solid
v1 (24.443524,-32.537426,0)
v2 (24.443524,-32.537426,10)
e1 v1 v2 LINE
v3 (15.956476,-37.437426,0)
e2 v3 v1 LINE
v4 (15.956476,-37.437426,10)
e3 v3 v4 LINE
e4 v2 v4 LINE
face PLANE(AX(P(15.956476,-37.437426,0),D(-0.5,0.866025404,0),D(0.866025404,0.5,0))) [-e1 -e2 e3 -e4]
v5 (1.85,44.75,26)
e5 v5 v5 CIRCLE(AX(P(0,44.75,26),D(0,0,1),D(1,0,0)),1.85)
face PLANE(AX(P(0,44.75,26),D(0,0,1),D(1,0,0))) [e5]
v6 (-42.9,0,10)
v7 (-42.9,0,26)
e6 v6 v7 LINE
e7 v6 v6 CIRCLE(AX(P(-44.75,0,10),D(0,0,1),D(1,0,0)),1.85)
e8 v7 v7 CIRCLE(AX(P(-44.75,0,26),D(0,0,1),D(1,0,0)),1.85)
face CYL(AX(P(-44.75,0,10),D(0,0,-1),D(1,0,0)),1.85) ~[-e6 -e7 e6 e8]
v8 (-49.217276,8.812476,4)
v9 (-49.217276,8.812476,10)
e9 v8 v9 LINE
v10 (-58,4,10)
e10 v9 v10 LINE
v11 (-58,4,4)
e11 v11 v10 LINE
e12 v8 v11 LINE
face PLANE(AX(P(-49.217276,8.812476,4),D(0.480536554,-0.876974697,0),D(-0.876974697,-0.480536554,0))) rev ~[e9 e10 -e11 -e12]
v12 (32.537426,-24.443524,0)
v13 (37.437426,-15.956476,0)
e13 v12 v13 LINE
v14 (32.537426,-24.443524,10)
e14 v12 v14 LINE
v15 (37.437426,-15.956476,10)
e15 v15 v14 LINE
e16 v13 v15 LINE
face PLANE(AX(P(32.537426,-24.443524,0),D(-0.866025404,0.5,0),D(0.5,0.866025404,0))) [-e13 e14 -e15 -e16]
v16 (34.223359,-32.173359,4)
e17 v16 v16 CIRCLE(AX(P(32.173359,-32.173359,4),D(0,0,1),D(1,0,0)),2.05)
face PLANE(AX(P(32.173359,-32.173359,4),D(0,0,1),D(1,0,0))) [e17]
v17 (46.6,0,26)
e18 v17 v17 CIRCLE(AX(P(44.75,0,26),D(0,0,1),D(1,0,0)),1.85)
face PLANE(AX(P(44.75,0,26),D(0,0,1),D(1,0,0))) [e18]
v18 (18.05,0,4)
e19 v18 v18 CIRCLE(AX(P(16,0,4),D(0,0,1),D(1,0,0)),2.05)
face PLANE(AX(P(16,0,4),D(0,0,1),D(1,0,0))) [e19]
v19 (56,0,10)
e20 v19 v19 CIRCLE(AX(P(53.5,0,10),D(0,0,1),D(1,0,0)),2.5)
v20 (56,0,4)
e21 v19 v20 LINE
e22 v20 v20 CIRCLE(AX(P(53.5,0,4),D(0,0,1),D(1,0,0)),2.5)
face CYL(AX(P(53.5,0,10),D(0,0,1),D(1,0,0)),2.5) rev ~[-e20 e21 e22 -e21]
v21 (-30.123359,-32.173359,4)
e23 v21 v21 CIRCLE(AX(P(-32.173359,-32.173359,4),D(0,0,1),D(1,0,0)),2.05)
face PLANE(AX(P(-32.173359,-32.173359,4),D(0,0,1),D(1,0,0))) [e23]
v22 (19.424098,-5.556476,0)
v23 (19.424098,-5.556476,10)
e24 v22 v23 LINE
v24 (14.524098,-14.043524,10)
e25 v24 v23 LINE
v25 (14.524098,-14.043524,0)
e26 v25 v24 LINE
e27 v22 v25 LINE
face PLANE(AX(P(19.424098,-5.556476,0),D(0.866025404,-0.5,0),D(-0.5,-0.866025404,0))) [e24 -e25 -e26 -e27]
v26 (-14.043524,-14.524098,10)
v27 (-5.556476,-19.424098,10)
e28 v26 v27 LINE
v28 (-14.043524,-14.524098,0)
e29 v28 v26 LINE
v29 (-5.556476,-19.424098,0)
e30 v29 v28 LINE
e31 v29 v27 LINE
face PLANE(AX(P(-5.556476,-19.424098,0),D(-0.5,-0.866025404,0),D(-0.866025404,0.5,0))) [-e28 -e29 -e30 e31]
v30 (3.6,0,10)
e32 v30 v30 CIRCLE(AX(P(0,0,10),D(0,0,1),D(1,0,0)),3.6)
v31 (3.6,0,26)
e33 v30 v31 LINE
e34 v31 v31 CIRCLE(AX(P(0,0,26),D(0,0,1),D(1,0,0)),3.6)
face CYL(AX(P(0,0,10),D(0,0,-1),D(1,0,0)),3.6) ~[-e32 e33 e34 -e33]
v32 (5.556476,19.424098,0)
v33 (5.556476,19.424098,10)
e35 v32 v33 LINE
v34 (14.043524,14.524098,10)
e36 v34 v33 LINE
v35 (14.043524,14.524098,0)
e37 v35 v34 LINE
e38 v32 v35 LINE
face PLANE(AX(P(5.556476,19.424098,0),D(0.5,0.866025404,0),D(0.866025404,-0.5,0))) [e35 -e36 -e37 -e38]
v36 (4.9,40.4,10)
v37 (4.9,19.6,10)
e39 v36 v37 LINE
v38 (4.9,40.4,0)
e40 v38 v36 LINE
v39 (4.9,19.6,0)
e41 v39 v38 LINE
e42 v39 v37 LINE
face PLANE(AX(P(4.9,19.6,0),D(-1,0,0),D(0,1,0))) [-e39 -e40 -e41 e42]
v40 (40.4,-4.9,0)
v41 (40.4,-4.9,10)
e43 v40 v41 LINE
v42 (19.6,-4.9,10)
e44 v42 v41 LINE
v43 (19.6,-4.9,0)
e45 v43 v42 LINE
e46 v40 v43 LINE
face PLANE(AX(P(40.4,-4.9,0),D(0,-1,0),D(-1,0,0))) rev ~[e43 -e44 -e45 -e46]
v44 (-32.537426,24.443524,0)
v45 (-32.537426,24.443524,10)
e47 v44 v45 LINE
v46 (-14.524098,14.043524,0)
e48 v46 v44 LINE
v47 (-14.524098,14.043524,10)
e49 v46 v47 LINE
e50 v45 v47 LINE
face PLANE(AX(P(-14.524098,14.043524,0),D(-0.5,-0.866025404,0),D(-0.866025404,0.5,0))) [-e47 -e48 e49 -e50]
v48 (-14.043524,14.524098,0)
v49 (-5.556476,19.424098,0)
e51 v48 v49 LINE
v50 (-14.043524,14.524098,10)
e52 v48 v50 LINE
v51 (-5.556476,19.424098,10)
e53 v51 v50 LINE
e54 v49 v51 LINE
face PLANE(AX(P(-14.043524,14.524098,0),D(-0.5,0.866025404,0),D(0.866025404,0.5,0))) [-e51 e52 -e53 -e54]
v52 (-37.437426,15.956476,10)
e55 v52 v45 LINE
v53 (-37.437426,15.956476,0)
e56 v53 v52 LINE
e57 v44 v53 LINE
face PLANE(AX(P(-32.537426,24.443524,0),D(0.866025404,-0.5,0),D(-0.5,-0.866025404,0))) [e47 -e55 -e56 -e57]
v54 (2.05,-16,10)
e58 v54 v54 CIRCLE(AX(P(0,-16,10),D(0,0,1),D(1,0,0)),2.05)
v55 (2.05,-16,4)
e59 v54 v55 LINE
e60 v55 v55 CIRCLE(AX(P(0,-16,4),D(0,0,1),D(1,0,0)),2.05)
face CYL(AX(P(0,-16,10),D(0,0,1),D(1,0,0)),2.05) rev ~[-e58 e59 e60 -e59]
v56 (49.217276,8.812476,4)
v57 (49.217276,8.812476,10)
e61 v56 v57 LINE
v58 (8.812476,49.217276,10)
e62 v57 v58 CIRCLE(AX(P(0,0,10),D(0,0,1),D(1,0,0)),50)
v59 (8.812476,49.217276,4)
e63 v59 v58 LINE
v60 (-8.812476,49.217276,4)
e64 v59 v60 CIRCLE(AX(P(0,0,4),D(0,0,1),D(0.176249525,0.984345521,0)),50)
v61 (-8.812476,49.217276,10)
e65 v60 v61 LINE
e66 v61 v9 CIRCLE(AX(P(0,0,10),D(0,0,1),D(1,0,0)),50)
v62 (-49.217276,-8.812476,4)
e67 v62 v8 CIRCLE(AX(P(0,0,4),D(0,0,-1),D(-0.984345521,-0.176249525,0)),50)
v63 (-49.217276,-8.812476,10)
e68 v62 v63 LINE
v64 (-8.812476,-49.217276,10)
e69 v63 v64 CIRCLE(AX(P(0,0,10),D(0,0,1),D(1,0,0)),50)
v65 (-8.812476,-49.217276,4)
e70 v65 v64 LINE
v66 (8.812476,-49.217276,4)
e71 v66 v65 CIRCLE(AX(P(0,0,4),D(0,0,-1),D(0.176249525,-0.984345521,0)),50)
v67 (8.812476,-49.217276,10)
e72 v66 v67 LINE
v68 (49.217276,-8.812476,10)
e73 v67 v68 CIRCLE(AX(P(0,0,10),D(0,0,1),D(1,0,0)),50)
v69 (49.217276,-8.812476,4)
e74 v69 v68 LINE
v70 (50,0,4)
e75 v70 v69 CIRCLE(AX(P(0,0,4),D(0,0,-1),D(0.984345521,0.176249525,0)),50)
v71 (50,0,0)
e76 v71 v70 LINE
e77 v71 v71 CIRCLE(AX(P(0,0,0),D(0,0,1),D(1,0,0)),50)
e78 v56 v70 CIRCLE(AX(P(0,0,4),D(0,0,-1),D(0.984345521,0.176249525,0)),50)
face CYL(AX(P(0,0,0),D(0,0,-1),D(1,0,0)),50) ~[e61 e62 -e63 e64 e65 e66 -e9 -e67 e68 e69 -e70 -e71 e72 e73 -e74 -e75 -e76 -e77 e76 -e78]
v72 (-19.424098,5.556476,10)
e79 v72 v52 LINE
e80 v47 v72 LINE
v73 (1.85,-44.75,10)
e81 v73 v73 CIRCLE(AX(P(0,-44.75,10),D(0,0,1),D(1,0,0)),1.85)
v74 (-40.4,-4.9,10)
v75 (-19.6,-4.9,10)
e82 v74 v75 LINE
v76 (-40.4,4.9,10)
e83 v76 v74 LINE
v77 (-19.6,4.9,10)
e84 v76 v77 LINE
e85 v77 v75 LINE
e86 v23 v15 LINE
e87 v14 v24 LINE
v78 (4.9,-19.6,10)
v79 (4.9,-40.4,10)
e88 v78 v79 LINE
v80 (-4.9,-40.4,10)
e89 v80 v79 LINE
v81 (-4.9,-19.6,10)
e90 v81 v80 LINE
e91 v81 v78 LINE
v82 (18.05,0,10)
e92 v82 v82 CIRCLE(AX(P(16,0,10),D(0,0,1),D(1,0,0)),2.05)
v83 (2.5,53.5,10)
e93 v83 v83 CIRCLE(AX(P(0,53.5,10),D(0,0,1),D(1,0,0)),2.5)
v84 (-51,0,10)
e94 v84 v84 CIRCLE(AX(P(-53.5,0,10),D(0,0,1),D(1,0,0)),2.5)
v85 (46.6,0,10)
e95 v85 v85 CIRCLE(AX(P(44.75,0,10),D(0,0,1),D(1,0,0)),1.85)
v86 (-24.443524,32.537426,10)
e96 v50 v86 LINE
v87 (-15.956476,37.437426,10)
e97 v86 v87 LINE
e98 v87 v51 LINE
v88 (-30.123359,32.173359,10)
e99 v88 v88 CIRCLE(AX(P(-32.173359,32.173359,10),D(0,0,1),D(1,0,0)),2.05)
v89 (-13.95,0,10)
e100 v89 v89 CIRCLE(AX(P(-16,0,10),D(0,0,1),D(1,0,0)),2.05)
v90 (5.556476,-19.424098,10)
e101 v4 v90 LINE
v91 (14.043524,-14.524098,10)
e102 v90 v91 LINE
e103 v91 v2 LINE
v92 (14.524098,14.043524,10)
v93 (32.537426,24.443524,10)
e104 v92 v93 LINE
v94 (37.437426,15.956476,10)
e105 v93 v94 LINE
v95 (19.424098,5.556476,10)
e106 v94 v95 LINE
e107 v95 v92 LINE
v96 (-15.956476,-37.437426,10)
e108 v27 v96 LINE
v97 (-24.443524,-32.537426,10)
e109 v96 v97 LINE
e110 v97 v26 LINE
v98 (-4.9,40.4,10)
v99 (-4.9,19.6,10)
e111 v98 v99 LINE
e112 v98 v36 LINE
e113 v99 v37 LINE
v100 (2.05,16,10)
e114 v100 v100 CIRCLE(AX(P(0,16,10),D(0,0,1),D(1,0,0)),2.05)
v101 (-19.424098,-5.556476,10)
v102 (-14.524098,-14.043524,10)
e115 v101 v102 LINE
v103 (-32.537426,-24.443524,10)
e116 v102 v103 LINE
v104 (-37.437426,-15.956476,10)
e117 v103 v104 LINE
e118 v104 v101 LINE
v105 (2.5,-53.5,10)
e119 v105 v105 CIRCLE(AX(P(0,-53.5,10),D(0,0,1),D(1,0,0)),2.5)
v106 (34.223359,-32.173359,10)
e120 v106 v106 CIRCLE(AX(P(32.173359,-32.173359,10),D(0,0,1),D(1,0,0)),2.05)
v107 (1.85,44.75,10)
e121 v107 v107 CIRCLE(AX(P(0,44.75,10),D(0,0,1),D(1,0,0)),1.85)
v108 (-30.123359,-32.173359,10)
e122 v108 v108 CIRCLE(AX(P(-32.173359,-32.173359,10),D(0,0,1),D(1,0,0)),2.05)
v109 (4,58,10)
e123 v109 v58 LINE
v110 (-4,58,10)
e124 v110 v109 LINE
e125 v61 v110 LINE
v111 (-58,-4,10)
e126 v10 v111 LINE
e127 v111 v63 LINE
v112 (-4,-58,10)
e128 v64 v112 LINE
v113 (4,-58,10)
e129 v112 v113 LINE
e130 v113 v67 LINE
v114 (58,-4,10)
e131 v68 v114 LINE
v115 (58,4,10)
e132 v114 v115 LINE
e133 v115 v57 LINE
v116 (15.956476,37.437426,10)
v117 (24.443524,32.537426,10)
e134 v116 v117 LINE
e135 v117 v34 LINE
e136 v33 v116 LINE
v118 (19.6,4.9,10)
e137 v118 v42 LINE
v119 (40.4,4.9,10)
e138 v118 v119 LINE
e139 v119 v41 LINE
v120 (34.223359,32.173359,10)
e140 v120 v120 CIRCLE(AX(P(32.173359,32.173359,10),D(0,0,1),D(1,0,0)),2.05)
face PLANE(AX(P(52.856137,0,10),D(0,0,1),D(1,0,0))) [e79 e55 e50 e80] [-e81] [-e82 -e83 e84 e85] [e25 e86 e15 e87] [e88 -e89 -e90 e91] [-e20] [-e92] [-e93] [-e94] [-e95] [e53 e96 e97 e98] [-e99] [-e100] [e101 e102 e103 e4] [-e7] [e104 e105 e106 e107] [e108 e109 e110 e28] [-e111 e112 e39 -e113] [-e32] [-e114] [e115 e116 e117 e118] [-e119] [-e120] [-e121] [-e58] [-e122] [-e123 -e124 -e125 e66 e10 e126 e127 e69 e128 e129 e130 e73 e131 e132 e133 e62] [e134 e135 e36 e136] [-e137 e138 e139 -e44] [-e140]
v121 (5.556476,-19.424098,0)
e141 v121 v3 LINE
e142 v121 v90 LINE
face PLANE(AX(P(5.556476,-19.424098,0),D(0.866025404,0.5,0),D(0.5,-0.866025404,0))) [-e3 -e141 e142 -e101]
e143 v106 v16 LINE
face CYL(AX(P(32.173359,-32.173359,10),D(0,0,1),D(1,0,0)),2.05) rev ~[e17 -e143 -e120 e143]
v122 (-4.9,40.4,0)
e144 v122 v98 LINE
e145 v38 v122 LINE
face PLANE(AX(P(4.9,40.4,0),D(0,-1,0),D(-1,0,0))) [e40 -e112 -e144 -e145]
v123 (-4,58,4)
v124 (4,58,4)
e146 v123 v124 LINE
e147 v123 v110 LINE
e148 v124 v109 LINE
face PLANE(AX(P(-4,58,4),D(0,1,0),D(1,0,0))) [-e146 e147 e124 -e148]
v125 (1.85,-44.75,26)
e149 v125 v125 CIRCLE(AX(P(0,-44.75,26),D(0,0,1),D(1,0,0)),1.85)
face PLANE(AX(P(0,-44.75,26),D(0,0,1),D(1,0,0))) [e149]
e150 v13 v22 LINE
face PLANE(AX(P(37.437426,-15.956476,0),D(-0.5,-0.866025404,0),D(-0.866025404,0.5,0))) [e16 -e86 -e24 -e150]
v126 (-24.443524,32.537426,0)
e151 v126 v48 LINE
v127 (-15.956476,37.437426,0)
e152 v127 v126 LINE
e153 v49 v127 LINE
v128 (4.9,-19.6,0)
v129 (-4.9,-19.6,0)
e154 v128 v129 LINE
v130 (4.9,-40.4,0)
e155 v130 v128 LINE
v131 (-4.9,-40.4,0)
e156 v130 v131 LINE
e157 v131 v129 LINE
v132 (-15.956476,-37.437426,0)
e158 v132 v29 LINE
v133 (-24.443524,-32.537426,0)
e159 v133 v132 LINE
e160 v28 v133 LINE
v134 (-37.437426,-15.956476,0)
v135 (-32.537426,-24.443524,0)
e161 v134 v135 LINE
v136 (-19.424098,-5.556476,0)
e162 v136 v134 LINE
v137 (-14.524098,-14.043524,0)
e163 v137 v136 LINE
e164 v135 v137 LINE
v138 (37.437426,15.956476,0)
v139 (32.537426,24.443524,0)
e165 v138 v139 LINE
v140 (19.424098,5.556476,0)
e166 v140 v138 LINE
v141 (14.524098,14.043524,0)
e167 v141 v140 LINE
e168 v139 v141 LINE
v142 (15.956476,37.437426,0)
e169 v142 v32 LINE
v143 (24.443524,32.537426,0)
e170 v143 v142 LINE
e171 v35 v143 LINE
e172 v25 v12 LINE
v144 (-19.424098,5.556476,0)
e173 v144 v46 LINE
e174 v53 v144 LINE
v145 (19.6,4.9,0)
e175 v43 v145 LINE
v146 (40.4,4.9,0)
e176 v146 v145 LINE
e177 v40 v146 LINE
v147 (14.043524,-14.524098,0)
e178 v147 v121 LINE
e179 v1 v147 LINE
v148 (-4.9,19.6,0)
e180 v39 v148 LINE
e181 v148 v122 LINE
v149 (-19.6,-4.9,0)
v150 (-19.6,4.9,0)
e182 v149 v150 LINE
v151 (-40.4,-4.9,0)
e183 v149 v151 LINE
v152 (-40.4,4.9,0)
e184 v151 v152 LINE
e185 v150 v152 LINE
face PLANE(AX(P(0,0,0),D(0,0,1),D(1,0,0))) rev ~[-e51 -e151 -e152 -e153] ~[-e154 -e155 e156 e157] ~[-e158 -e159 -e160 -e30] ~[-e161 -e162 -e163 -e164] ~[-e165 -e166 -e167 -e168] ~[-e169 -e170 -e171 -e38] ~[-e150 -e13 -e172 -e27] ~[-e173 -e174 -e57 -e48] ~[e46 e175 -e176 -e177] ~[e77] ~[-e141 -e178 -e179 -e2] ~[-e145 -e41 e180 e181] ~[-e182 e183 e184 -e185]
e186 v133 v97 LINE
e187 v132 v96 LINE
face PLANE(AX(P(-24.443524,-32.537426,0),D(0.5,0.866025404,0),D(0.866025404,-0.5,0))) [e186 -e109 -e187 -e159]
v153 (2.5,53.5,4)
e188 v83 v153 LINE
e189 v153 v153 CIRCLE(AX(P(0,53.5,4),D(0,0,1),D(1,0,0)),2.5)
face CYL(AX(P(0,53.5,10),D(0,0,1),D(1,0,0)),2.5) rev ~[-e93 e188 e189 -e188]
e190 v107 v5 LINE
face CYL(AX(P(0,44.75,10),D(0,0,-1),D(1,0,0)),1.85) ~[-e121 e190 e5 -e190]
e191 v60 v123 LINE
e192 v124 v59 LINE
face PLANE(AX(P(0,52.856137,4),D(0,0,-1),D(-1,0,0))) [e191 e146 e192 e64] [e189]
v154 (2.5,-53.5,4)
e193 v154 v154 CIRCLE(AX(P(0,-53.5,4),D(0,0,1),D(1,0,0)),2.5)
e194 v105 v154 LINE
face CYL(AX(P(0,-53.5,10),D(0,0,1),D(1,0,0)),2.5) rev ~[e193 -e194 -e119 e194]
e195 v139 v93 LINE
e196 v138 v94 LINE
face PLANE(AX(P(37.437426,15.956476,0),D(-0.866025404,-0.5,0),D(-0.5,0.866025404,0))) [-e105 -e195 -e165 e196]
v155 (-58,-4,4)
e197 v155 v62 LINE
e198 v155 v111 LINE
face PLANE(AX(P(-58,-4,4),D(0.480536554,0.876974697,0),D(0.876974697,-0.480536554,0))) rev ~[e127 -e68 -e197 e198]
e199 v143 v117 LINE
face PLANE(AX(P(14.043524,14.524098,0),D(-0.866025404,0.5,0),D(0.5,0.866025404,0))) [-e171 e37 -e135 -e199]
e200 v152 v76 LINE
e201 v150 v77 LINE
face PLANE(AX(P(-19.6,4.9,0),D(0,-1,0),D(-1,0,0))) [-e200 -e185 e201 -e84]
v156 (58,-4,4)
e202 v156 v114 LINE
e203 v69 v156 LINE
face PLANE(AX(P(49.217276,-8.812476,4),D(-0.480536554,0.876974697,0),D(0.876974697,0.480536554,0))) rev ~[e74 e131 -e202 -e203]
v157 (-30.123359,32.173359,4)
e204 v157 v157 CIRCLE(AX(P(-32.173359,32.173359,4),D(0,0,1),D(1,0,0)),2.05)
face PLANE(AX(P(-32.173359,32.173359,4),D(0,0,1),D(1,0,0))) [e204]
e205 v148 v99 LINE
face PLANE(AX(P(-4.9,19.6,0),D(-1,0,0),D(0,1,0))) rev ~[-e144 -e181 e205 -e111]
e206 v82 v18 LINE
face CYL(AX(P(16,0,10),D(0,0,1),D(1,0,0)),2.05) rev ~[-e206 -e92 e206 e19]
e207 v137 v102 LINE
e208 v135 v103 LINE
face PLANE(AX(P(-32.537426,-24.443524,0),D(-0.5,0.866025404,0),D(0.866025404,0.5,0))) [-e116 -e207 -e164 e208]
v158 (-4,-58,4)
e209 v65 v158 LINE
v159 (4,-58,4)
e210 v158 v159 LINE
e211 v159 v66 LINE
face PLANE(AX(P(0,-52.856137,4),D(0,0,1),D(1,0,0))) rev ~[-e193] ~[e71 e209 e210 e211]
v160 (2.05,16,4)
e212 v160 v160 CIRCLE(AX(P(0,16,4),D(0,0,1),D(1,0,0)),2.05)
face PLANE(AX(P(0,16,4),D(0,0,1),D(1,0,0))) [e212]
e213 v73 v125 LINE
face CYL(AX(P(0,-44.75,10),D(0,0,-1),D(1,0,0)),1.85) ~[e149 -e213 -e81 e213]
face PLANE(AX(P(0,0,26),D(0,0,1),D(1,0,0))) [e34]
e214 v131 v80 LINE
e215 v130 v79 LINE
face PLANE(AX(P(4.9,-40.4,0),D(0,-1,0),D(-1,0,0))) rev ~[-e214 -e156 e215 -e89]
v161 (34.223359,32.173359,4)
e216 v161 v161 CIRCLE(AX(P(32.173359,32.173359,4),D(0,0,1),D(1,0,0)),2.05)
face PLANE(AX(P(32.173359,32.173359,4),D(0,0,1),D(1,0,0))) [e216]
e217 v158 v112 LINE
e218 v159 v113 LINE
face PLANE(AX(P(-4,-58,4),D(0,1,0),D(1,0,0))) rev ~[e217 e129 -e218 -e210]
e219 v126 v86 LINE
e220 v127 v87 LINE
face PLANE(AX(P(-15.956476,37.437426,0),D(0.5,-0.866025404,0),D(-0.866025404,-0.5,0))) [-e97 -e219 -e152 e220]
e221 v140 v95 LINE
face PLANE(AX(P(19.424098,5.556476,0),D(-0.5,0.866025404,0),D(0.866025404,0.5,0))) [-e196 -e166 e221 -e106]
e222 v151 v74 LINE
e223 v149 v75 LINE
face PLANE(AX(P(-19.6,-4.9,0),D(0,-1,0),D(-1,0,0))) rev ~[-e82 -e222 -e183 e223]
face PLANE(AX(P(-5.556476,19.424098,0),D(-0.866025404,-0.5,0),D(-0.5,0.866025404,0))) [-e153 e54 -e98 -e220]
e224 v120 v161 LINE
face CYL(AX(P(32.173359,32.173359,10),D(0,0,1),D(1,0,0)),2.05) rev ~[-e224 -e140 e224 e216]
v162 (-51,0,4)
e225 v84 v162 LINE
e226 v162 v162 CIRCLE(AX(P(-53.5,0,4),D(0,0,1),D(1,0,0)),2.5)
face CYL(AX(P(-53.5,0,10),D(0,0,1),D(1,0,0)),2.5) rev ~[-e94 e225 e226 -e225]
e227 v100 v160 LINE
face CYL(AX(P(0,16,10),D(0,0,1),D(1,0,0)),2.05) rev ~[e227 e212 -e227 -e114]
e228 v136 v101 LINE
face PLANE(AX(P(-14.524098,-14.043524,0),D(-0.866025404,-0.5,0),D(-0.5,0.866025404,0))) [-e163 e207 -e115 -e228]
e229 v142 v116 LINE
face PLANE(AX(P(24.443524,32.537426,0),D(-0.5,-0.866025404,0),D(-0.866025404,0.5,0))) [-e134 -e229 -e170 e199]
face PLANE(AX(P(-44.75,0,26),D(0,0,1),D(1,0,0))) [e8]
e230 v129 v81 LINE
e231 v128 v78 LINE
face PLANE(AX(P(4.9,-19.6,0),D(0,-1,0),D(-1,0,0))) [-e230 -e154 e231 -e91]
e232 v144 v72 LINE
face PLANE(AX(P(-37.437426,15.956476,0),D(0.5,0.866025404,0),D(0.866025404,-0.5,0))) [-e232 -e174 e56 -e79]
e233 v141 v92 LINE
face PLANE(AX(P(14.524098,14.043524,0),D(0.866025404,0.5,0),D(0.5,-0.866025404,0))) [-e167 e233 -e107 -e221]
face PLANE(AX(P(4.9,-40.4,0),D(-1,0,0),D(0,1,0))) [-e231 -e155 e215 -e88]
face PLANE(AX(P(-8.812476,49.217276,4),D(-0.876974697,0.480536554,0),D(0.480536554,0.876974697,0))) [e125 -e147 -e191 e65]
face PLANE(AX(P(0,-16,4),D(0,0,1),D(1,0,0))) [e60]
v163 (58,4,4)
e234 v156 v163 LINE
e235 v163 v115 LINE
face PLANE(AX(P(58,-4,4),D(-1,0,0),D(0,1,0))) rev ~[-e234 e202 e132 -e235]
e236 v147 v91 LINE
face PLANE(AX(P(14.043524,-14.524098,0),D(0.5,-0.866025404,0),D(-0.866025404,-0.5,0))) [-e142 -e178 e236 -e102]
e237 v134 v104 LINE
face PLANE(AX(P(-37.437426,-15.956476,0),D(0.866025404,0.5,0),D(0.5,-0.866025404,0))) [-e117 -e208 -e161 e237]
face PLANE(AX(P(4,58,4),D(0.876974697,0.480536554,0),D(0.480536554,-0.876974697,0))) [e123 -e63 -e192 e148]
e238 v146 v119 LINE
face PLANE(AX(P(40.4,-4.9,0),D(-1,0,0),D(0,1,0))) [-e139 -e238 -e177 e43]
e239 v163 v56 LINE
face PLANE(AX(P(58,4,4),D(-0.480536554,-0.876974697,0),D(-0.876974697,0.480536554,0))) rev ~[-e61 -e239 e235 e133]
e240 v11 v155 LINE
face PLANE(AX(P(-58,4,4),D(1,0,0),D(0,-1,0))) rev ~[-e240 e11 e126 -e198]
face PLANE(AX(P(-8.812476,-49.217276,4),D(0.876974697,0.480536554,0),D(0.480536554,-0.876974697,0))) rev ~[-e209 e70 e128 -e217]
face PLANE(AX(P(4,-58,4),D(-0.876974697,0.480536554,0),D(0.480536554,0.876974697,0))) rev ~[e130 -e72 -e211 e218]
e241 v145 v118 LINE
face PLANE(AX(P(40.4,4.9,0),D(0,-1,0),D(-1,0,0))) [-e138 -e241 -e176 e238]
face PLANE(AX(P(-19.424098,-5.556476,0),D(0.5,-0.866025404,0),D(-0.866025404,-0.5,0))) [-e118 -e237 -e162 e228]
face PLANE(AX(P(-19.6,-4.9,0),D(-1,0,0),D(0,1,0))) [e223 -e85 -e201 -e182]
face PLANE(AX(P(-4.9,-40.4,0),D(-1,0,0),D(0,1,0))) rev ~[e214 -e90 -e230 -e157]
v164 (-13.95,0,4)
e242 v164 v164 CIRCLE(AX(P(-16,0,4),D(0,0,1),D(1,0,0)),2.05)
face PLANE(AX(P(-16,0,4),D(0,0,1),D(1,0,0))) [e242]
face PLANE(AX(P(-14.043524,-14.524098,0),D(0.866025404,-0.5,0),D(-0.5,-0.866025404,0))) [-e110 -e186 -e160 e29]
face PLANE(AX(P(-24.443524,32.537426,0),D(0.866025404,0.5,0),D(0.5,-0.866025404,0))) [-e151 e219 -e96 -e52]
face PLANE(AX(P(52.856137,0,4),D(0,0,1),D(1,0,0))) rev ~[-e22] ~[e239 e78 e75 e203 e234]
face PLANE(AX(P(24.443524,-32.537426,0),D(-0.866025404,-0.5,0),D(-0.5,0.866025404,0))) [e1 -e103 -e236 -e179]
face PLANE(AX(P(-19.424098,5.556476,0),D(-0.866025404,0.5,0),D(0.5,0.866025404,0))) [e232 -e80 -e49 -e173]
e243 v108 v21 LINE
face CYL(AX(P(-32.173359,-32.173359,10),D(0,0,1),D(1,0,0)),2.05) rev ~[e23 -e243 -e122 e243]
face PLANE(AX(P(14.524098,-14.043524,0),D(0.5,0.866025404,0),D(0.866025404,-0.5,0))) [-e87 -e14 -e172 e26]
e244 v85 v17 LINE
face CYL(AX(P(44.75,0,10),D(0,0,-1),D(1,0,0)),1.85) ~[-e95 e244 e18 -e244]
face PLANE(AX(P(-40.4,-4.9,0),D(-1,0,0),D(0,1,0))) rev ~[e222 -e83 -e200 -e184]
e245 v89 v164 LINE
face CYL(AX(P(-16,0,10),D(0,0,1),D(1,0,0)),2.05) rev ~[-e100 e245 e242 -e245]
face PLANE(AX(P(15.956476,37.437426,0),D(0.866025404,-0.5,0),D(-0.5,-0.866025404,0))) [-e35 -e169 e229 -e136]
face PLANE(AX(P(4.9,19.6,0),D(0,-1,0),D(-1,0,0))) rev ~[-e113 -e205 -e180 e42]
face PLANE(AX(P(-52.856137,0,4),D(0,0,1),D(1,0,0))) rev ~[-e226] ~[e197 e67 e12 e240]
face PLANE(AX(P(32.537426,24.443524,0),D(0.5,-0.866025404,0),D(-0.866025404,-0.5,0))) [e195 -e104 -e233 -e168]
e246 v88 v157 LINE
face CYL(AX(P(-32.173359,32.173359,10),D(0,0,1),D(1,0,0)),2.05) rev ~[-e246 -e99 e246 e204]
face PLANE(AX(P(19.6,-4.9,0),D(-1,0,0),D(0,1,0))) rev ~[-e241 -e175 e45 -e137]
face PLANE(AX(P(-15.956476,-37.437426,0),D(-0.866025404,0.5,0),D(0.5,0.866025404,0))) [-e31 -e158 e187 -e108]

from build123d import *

# Parameters (mm, degrees)
CROQUIS2_R              = 50
SALIENTE_EXTRUIR1_DEPTH = 10
CROQUIS1_W              = 9.8
CROQUIS1_H              = 20.8
CROQUIS1_W_2            = 20.8
CROQUIS1_H_2            = 9.8
CORTAR_EXTRUIR3_DEPTH   = 72.414284285
CROQUIS4_R              = 3.6
SALIENTE_EXTRUIR2_DEPTH = 16
CROQUIS5_R              = 1.85
SALIENTE_EXTRUIR3_DEPTH = 16
SALIENTE_EXTRUIR4_START = -6
SALIENTE_EXTRUIR4_DEPTH = 6
CROQUIS8_R              = 2.5
CORTAR_EXTRUIR4_DEPTH   = 6.5
CROQUIS9_R              = 2.05
CORTAR_EXTRUIR5_DEPTH   = 6


with BuildPart() as part:
    # Croquis2 → Saliente-Extruir1 (new body)
    with BuildSketch(Plane(origin=(0, 0, 0), x_dir=(0, 1, 0), z_dir=(0, 0, 1))):
        with Locations(Location((0, 0, 0), (0, 0, 270))):
            Circle(CROQUIS2_R)
    extrude(amount=SALIENTE_EXTRUIR1_DEPTH)

    # Croquis1 → Cortar-Extruir3 (cut, through all)
    with BuildSketch(Plane(origin=(0, 0, 0), x_dir=(0, 1, 0), z_dir=(0, 0, 1))):
        Polygon((15.956475521, 37.437426313), (5.556475521, 19.424097914), (14.043524479, 14.524097914), (24.443524479, 32.537426313), align=None)
        with Locations((0, 30)):
            Rectangle(CROQUIS1_W, CROQUIS1_H)
        Polygon((32.537426313, 24.443524479), (14.524097914, 14.043524479), (19.424097914, 5.556475521), (37.437426313, 15.956475521), align=None)
        with Locations((30, 0)):
            Rectangle(CROQUIS1_W_2, CROQUIS1_H_2)
        Polygon((37.437426313, -15.956475521), (19.424097914, -5.556475521), (14.524097914, -14.043524479), (32.537426313, -24.443524479), align=None)
        Polygon((24.443524479, -32.537426313), (14.043524479, -14.524097914), (5.556475521, -19.424097914), (15.956475521, -37.437426313), align=None)
        with Locations((0, -30)):
            Rectangle(CROQUIS1_W, CROQUIS1_H)
        Polygon((-15.956475521, -37.437426313), (-5.556475521, -19.424097914), (-14.043524479, -14.524097914), (-24.443524479, -32.537426313), align=None)
        Polygon((-32.537426313, -24.443524479), (-14.524097914, -14.043524479), (-19.424097914, -5.556475521), (-37.437426313, -15.956475521), align=None)
        with Locations((-30, 0)):
            Rectangle(CROQUIS1_W_2, CROQUIS1_H_2)
        Polygon((-37.437426313, 15.956475521), (-19.424097914, 5.556475521), (-14.524097914, 14.043524479), (-32.537426313, 24.443524479), align=None)
        Polygon((-24.443524479, 32.537426313), (-14.043524479, 14.524097914), (-5.556475521, 19.424097914), (-15.956475521, 37.437426313), align=None)
    extrude(amount=CORTAR_EXTRUIR3_DEPTH, mode=Mode.SUBTRACT)

    # Croquis4 → Saliente-Extruir2 (add)
    with BuildSketch(Plane.XY.offset(10)):
        Circle(CROQUIS4_R)
    extrude(amount=SALIENTE_EXTRUIR2_DEPTH)

    # Croquis5 → Saliente-Extruir3 (add)
    with BuildSketch(Plane.XY.offset(10)):
        with Locations((0, 44.75)):
            Circle(CROQUIS5_R)
        with Locations((44.75, 0)):
            Circle(CROQUIS5_R)
        with Locations((0, -44.75)):
            Circle(CROQUIS5_R)
        with Locations((-44.75, 0)):
            Circle(CROQUIS5_R)
    extrude(amount=SALIENTE_EXTRUIR3_DEPTH)

    # Croquis7 → Saliente-Extruir4 (add)
    with BuildSketch(Plane.XY.offset(10).offset(SALIENTE_EXTRUIR4_START)):
        with BuildLine():
            Line((4, 58), (8.81247625, 49.217276056))
            ThreePointArc((8.81247625, 49.217276056), (0, 50), (-8.81247625, 49.217276056))
            Line((-8.81247625, 49.217276056), (-4, 58))
            Line((-4, 58), (4, 58))
        make_face()
        with BuildLine():
            Line((58, 4), (49.217276056, 8.81247625))
            ThreePointArc((49.217276056, 8.81247625), (50, 0), (49.217276056, -8.81247625))
            Line((49.217276056, -8.81247625), (58, -4))
            Line((58, -4), (58, 4))
        make_face()
        with BuildLine():
            Line((4, -58), (8.81247625, -49.217276056))
            ThreePointArc((8.81247625, -49.217276056), (0, -50), (-8.81247625, -49.217276056))
            Line((-8.81247625, -49.217276056), (-4, -58))
            Line((-4, -58), (4, -58))
        make_face()
        with BuildLine():
            Line((-58, -4), (-49.217276056, -8.81247625))
            ThreePointArc((-49.217276056, -8.81247625), (-50, 0), (-49.217276056, 8.81247625))
            Line((-49.217276056, 8.81247625), (-58, 4))
            Line((-58, 4), (-58, -4))
        make_face()
    extrude(amount=SALIENTE_EXTRUIR4_DEPTH)

    # Croquis8 → Cortar-Extruir4 (cut)
    with BuildSketch(Plane.XY.offset(10)):
        with Locations((0, 53.5)):
            Circle(CROQUIS8_R)
        with Locations((53.5, 0)):
            Circle(CROQUIS8_R)
        with Locations((0, -53.5)):
            Circle(CROQUIS8_R)
        with Locations((-53.5, 0)):
            Circle(CROQUIS8_R)
    extrude(amount=-CORTAR_EXTRUIR4_DEPTH, mode=Mode.SUBTRACT)

    # Croquis9 → Cortar-Extruir5 (cut)
    with BuildSketch(Plane.XY.offset(10)):
        with Locations((0, 16)):
            Circle(CROQUIS9_R)
        with Locations((16, 0)):
            Circle(CROQUIS9_R)
        with Locations((0, -16)):
            Circle(CROQUIS9_R)
        with Locations((-16, 0)):
            Circle(CROQUIS9_R)
        with Locations((-32.173358544, 32.173358544)):
            Circle(CROQUIS9_R)
        with Locations((32.173358544, 32.173358544)):
            Circle(CROQUIS9_R)
        with Locations((32.173358544, -32.173358544)):
            Circle(CROQUIS9_R)
        with Locations((-32.173358544, -32.173358544)):
            Circle(CROQUIS9_R)
    extrude(amount=-CORTAR_EXTRUIR5_DEPTH, mode=Mode.SUBTRACT)


solid = part.part
